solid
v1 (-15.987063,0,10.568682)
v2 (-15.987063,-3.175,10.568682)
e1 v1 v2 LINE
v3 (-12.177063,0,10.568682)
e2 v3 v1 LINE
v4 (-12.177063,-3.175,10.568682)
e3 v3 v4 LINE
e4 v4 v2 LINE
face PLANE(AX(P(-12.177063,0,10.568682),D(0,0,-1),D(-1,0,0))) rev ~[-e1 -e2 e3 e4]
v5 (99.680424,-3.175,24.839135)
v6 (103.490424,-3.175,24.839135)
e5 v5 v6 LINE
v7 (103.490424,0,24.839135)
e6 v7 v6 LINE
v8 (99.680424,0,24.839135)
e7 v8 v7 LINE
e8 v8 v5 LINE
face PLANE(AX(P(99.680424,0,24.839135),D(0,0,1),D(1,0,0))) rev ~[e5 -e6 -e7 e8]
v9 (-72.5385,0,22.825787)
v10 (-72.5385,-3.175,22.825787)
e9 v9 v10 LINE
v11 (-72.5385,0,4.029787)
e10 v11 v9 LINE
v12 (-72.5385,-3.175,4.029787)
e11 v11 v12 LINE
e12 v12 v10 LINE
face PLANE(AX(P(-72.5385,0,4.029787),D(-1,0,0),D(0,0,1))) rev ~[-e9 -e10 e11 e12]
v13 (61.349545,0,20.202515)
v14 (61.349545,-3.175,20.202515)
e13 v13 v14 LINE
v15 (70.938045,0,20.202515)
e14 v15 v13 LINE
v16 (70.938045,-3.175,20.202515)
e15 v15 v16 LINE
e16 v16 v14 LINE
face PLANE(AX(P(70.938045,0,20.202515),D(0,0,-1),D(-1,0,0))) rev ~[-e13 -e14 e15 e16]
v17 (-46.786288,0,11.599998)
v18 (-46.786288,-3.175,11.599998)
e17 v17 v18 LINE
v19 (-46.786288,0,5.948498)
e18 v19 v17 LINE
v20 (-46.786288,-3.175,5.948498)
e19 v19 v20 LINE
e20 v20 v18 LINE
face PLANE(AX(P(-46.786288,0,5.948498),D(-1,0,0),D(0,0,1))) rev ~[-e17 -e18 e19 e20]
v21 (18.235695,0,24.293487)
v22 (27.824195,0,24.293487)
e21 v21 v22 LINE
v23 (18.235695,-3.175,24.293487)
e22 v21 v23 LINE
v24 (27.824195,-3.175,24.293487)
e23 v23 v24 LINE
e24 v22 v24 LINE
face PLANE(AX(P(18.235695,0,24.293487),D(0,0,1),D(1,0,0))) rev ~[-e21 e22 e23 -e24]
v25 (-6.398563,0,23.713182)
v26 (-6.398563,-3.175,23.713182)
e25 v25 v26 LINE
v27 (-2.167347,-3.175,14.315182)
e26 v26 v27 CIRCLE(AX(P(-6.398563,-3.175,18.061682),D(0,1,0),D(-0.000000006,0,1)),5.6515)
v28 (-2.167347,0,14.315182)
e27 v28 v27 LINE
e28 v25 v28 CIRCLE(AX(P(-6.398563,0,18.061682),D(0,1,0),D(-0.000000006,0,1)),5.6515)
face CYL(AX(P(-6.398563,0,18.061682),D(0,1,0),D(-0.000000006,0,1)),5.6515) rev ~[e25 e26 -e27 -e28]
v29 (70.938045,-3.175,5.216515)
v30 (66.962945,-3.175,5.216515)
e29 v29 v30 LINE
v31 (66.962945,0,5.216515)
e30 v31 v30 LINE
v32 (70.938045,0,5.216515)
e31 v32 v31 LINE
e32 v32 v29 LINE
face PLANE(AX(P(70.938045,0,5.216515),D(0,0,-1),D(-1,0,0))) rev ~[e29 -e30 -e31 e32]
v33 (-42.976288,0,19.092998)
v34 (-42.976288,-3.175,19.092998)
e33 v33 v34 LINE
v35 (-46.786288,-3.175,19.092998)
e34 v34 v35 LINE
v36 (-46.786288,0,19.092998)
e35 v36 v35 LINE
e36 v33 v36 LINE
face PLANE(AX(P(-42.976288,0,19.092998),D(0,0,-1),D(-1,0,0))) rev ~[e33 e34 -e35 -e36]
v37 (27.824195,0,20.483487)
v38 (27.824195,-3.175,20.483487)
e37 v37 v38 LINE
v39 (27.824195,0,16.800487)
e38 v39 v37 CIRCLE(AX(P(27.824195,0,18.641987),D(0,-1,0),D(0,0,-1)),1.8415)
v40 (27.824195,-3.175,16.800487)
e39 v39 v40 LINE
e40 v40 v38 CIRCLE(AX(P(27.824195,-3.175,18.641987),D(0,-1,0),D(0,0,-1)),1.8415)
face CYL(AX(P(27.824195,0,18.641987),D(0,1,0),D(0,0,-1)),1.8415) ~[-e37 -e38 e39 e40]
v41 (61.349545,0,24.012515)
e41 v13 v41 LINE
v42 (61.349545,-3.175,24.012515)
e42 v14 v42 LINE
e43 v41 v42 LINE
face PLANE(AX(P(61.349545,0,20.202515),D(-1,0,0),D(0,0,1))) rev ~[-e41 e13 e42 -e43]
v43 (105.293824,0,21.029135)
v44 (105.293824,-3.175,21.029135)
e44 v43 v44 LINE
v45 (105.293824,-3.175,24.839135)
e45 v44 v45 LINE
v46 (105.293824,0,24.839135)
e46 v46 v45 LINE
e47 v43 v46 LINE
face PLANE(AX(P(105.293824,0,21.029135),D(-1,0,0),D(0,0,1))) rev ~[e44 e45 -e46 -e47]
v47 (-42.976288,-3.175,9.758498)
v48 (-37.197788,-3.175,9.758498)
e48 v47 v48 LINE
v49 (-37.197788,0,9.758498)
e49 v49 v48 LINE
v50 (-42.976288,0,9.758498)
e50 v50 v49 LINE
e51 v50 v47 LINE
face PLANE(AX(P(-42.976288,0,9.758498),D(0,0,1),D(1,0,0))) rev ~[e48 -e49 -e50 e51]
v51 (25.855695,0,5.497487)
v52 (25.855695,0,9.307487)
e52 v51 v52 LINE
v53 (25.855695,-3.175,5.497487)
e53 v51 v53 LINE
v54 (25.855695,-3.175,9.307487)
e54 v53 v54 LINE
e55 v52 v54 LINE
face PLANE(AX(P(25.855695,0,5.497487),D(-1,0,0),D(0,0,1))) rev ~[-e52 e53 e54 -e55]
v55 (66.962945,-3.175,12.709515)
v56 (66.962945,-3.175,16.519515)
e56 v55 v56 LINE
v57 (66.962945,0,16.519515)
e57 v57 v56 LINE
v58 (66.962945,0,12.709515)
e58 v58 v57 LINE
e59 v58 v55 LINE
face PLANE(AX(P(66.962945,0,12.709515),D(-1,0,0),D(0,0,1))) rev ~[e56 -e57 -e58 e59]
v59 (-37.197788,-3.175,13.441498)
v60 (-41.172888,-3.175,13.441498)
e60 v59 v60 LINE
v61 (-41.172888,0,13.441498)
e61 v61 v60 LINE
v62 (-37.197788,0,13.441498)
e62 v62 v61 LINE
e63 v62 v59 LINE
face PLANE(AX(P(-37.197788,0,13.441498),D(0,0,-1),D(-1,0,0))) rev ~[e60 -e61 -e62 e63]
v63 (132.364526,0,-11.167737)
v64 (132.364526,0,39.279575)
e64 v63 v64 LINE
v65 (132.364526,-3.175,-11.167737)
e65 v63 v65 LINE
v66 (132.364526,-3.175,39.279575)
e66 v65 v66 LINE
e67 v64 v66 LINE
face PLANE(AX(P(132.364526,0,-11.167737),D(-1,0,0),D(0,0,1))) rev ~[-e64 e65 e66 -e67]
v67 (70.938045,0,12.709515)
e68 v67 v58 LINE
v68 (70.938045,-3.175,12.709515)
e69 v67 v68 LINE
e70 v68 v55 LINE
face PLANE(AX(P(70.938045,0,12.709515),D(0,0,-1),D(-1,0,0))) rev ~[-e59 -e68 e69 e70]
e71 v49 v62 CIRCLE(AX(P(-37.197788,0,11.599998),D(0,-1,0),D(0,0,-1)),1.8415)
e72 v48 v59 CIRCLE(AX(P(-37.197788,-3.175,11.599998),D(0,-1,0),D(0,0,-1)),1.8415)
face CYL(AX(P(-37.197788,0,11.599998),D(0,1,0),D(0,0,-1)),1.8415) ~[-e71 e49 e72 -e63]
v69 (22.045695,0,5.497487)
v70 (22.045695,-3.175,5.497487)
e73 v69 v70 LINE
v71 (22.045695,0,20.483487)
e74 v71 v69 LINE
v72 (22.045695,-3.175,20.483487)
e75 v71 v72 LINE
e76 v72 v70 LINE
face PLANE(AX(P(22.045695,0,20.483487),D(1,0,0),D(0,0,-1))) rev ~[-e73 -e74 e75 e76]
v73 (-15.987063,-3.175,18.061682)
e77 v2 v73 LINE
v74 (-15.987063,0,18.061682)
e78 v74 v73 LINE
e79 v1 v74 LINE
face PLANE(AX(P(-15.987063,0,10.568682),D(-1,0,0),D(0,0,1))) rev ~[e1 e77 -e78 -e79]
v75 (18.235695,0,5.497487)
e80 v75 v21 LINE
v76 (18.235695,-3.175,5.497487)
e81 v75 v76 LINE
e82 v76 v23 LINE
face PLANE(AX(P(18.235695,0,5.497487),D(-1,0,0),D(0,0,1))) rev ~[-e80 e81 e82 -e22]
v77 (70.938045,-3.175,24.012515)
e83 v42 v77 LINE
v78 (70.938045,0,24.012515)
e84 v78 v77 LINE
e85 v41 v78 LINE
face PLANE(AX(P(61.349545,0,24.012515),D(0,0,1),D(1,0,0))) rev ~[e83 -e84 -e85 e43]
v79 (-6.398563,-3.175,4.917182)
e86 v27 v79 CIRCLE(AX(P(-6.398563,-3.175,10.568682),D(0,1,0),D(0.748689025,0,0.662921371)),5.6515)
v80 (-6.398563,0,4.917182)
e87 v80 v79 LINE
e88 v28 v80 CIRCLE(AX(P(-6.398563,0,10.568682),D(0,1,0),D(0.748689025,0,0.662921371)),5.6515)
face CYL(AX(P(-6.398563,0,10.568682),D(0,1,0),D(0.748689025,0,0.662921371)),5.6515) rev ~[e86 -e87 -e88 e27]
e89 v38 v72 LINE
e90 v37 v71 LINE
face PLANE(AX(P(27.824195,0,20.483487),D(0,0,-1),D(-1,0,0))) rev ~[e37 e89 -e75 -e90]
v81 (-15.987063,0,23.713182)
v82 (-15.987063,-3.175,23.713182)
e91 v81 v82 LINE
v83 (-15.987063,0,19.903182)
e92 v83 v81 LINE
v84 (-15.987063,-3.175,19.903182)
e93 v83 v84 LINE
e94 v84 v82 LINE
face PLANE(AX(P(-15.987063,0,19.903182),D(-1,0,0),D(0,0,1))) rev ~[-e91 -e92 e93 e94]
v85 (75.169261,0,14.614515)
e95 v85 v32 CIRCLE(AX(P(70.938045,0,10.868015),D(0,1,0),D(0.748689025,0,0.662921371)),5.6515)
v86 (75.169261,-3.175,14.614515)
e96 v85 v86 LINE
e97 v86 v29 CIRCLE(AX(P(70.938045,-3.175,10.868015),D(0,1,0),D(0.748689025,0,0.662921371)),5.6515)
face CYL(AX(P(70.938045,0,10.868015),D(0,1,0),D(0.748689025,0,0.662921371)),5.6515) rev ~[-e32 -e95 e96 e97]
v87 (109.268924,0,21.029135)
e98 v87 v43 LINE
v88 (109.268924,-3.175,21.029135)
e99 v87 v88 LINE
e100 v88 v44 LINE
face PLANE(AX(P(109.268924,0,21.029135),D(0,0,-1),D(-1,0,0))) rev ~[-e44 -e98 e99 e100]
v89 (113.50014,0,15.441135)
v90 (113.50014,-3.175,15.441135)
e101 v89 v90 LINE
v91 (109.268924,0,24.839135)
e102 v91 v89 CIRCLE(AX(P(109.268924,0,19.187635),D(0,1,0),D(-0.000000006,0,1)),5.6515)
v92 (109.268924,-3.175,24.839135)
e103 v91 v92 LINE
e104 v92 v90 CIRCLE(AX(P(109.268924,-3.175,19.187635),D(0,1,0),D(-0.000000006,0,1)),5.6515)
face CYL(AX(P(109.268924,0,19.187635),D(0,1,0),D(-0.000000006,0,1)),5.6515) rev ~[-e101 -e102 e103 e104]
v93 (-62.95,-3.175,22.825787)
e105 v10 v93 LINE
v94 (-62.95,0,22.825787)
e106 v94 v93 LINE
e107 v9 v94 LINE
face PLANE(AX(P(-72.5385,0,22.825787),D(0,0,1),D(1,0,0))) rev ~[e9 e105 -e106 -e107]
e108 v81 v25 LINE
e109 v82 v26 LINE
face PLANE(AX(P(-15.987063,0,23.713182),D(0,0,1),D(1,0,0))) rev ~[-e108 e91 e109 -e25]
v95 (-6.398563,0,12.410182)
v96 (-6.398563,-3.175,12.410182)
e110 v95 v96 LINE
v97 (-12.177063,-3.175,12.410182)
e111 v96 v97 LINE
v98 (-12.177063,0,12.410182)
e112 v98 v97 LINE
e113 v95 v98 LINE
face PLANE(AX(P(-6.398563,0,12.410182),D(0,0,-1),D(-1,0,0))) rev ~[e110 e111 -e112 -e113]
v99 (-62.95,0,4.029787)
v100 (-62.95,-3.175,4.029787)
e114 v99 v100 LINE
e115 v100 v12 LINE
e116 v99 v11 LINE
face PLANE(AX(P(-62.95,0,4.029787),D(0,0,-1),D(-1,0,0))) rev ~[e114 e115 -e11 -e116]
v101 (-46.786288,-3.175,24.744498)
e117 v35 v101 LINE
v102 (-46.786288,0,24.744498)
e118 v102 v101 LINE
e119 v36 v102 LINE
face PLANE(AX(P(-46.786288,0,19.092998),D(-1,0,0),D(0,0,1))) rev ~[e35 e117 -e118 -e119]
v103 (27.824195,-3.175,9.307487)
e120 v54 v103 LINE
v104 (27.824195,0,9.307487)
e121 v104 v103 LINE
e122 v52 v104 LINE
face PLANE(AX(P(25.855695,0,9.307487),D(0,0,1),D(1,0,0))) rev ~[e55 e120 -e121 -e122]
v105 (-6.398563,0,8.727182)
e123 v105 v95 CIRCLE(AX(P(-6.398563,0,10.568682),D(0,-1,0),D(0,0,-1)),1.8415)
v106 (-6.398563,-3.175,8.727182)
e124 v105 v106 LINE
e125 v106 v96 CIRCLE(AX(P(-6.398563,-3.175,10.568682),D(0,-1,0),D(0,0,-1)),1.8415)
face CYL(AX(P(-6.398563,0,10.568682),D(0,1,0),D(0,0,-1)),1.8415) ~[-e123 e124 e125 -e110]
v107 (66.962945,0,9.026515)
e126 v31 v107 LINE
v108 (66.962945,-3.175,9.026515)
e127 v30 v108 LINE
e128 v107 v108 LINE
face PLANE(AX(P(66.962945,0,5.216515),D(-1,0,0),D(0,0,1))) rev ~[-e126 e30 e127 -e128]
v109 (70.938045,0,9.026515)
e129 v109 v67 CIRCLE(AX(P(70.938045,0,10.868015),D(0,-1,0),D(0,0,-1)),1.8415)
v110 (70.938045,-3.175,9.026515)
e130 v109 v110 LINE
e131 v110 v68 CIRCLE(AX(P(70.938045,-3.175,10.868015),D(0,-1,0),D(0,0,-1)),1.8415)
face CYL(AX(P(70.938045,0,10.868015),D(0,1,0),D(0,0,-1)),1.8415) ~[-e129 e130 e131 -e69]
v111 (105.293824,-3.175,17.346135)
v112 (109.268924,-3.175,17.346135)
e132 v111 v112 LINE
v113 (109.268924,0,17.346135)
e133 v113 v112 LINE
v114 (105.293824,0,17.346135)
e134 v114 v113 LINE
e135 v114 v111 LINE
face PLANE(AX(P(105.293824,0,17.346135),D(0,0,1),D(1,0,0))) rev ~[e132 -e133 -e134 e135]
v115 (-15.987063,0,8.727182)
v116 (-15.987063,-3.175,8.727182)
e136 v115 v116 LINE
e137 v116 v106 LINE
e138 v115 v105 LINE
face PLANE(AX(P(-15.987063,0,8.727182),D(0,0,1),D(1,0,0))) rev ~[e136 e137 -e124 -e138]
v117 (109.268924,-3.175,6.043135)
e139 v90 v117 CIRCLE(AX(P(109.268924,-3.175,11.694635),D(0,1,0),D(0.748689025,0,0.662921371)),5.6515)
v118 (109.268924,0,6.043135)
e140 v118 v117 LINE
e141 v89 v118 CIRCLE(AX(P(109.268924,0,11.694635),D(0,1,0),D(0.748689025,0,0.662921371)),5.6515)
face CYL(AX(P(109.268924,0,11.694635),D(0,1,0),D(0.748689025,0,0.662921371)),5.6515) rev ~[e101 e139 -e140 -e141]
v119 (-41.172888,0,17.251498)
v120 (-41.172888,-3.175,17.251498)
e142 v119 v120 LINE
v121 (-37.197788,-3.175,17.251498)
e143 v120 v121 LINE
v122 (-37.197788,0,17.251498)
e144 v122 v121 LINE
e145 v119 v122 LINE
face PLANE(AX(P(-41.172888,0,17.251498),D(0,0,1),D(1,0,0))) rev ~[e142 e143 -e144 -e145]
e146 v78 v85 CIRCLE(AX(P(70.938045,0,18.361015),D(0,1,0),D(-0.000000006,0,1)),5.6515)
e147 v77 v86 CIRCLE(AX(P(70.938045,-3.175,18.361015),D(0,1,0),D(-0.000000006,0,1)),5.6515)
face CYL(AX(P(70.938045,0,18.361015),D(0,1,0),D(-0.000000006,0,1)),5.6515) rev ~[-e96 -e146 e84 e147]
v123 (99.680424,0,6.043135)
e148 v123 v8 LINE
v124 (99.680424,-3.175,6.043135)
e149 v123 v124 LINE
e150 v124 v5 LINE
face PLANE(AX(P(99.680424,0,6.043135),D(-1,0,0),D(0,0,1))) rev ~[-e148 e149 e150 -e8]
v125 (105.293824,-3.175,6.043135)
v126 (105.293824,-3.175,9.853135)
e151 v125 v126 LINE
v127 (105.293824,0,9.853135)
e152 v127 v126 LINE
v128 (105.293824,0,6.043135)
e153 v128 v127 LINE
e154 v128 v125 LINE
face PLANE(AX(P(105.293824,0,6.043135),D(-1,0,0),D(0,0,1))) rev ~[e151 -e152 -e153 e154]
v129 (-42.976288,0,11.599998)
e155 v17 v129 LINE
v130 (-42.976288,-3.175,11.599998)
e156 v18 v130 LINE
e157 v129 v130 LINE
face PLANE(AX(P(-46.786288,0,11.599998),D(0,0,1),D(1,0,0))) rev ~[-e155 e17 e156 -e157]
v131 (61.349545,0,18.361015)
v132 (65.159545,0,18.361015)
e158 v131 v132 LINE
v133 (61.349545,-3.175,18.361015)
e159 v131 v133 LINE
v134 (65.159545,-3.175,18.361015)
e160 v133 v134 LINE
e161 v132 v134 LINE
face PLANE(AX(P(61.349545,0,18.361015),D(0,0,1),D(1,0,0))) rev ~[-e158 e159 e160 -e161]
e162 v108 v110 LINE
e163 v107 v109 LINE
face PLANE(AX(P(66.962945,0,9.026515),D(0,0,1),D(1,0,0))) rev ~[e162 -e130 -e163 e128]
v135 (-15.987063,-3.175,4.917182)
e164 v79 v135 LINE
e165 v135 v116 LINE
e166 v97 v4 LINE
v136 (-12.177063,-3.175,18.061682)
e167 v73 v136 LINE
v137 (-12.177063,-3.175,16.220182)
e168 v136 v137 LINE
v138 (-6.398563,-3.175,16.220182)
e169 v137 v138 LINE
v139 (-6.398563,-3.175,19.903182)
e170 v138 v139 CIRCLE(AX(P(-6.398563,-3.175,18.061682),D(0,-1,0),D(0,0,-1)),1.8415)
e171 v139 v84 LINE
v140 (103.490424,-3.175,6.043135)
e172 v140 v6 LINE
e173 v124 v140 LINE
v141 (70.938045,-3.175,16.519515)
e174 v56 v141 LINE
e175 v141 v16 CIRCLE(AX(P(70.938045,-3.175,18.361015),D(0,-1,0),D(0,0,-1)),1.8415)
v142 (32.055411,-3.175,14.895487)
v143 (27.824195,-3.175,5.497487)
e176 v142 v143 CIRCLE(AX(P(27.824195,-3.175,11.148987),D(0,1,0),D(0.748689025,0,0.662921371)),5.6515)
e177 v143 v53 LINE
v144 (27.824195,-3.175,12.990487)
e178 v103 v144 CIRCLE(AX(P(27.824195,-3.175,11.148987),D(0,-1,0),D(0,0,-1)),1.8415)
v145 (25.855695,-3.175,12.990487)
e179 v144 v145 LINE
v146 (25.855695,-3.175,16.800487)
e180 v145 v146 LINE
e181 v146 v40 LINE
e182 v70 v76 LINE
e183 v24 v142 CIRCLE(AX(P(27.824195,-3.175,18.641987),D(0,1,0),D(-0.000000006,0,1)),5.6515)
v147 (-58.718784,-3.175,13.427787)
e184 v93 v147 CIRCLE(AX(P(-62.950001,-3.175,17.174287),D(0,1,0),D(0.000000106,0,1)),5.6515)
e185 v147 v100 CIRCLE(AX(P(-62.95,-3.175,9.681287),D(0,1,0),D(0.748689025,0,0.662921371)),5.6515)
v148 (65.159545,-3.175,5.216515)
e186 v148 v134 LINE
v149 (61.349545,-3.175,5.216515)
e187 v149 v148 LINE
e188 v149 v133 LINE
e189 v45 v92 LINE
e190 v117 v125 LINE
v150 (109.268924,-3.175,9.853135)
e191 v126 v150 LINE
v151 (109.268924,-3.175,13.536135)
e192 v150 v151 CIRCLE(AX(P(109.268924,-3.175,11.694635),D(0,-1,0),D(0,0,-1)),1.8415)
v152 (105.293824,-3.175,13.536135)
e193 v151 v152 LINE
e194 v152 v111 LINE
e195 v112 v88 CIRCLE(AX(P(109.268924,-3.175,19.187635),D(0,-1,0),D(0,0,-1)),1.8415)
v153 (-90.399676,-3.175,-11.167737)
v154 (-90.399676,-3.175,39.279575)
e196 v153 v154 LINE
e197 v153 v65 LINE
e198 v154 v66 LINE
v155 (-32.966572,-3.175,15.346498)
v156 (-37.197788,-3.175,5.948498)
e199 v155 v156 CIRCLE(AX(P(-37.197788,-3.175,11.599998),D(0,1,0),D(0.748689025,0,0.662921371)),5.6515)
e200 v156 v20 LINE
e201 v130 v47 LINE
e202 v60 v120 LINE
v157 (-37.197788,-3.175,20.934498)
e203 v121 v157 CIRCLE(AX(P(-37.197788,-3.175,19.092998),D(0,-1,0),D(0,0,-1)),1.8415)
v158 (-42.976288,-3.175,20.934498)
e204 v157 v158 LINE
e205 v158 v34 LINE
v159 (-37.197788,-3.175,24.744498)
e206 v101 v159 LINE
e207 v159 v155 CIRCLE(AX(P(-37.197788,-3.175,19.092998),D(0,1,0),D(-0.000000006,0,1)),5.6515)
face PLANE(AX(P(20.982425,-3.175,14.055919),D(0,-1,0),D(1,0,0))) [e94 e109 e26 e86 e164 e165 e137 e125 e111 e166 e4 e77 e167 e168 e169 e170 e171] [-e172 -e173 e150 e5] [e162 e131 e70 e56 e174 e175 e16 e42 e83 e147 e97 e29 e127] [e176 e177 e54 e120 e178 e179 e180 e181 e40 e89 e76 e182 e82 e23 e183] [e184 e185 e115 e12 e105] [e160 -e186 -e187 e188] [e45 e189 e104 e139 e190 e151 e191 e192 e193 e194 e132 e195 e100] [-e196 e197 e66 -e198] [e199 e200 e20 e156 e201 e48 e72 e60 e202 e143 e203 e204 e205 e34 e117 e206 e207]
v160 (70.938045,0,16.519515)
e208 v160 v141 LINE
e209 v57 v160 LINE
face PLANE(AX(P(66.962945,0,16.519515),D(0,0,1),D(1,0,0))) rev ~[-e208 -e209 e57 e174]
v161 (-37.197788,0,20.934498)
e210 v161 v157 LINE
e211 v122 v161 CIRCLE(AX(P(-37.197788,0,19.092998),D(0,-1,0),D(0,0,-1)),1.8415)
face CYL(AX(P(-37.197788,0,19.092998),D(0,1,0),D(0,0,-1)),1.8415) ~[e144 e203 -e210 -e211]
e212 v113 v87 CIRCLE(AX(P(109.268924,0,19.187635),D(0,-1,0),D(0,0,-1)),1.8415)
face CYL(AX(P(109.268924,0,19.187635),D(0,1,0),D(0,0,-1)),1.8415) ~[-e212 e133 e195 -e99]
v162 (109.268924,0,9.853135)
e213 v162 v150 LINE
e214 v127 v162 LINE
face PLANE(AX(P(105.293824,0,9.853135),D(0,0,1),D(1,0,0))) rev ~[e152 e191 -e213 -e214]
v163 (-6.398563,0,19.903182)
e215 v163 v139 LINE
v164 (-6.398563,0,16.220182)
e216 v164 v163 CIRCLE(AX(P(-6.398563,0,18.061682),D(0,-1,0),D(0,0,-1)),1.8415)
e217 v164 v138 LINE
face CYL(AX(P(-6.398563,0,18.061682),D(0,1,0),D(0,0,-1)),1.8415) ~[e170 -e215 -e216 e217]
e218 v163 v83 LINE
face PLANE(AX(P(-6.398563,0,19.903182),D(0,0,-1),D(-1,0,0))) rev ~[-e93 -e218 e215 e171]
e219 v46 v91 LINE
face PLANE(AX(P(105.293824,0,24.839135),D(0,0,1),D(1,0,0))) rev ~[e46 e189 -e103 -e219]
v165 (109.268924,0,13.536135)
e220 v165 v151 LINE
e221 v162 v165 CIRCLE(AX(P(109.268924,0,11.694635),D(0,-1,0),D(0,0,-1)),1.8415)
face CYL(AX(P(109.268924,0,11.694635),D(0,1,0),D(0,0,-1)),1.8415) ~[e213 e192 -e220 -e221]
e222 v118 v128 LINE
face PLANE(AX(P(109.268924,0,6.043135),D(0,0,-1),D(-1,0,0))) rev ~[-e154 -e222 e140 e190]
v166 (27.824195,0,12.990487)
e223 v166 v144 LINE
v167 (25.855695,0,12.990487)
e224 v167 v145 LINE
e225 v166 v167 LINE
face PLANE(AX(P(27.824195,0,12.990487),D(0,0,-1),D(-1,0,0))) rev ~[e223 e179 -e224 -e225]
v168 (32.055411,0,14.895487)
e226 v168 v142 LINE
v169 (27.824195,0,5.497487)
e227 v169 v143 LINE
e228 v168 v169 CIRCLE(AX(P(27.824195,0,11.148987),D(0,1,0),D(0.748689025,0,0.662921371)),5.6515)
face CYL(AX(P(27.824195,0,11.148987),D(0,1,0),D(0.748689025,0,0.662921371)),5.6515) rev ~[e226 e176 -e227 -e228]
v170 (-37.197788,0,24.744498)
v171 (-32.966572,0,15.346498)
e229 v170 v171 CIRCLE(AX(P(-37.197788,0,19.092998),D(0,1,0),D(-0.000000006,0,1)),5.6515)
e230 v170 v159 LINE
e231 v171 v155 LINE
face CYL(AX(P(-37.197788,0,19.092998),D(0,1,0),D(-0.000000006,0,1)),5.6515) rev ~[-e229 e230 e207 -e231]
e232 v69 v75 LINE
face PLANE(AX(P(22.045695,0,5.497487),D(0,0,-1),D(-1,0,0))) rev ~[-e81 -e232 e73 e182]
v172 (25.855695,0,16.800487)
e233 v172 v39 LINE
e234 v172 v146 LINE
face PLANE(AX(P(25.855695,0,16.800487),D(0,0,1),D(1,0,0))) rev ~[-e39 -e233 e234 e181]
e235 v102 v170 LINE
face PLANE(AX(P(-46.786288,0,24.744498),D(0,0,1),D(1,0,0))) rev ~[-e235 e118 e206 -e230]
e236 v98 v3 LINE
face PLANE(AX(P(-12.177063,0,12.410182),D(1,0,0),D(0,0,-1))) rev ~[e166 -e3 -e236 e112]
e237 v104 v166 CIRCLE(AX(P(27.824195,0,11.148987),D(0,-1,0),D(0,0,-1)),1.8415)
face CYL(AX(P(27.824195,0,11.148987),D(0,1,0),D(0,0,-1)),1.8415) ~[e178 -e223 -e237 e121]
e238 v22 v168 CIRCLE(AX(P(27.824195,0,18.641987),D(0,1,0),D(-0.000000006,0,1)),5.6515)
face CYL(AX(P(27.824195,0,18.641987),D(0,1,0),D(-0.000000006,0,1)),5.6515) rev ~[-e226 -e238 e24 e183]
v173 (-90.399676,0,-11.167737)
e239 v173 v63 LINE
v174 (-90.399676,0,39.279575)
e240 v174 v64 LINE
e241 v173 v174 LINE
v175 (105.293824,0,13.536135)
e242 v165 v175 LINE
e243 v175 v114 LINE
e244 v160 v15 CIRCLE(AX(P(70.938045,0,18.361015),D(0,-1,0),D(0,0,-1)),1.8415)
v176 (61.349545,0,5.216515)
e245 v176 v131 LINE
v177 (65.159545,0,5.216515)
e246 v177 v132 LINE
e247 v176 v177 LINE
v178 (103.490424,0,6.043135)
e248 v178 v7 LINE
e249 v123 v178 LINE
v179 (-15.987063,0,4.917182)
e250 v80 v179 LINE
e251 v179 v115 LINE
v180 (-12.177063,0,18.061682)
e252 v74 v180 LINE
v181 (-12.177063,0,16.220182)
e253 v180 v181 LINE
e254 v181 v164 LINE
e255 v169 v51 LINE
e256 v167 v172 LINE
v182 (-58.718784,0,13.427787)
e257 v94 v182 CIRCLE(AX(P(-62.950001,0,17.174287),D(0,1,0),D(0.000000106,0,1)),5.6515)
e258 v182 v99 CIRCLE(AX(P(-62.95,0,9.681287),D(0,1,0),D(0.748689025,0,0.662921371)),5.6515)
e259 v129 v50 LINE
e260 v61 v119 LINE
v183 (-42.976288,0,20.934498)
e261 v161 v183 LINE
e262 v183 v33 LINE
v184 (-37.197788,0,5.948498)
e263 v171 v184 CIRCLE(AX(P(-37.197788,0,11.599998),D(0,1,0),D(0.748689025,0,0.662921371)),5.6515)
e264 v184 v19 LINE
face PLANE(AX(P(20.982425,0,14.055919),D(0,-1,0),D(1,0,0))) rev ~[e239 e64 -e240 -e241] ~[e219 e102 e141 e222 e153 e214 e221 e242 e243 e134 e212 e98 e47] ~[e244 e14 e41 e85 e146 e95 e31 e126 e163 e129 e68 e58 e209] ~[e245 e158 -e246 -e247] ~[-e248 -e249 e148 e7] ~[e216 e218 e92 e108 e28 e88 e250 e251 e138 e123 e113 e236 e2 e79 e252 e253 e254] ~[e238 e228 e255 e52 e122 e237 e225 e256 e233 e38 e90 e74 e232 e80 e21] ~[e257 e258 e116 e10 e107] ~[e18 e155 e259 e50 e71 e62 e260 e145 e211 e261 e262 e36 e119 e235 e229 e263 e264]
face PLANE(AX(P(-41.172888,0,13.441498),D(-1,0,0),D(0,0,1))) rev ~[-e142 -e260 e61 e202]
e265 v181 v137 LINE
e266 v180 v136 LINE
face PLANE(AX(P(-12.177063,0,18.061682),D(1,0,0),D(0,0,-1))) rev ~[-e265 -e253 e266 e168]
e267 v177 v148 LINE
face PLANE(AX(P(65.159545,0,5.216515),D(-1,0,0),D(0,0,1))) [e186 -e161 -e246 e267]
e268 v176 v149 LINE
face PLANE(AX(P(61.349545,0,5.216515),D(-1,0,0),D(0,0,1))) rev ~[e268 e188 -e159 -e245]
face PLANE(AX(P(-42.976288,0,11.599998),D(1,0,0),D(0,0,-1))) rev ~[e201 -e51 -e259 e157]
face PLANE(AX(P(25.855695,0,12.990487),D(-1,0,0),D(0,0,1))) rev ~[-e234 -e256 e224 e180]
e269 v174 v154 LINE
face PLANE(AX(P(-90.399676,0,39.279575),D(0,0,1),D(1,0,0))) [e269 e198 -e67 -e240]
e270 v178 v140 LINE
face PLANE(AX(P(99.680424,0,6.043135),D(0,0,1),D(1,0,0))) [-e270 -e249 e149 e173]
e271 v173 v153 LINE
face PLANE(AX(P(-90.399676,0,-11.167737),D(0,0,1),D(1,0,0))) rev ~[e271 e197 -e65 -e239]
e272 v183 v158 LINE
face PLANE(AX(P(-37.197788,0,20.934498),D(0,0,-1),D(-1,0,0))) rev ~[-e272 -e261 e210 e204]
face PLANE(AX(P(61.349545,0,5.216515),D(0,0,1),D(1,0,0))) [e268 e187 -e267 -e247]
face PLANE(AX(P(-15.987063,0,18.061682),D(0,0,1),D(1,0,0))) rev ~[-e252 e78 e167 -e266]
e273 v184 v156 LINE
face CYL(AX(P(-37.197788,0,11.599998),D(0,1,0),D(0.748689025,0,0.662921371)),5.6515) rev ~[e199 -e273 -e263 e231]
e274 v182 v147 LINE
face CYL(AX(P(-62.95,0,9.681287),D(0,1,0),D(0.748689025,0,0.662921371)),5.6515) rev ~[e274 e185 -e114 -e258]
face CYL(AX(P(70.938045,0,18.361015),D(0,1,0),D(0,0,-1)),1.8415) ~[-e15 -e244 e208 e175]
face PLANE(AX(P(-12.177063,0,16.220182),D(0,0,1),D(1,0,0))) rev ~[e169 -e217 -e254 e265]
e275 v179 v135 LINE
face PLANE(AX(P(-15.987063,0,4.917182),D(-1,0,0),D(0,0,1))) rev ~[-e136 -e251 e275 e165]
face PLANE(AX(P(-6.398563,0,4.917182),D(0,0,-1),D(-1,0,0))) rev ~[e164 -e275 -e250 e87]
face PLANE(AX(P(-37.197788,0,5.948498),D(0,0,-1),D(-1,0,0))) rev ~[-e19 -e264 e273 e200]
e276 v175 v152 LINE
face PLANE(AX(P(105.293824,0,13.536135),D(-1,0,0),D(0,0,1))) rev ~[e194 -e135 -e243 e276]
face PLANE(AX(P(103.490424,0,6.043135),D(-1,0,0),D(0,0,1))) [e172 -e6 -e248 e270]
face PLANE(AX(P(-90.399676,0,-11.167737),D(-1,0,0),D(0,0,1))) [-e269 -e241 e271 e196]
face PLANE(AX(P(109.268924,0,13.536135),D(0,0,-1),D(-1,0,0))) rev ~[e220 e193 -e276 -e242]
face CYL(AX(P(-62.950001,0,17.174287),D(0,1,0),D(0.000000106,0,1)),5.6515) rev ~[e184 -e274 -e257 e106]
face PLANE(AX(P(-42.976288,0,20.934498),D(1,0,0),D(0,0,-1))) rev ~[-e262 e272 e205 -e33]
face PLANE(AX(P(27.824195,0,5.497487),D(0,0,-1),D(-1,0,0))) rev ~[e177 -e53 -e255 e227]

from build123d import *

# Parameters (mm, degrees)
F0_W     = 222.764201
F0_H     = 50.447313
F0_W_2   = 3.81
F0_H_2   = 13.1445
F0_H_3   = 18.796
F1_DEPTH = 3.175


with BuildPart() as f1:
    # F0 (on Front) → F1 (new body)
    with BuildSketch(Plane.XZ):
        with Locations((20.982425, 14.055919)):
            Rectangle(F0_W, F0_H)
        with BuildLine():
            Line((-62.95, 4.029787), (-72.5385, 4.029787))
            Line((-72.5385, 4.029787), (-72.5385, 22.825787))
            Line((-72.5385, 22.825787), (-62.95, 22.825787))
            ThreePointArc((-62.95, 22.825787), (-57.79671, 19.494427), (-58.718784, 13.427787))
            ThreePointArc((-58.718784, 13.427787), (-57.79671, 7.361146), (-62.95, 4.029787))
        make_face(mode=Mode.SUBTRACT)
        with Locations((63.254545, 11.788765)):
            Rectangle(F0_W_2, F0_H_2, mode=Mode.SUBTRACT)
        with BuildLine():
            Line((-37.197788, 5.948498), (-46.786288, 5.948498))
            Line((-46.786288, 5.948498), (-46.786288, 11.599998))
            Line((-46.786288, 11.599998), (-42.976288, 11.599998))
            Line((-42.976288, 11.599998), (-42.976288, 9.758498))
            Line((-42.976288, 9.758498), (-37.197788, 9.758498))
            ThreePointArc((-37.197788, 9.758498), (-35.356288, 11.599998), (-37.197788, 13.441498))
            Line((-37.197788, 13.441498), (-41.172888, 13.441498))
            Line((-41.172888, 13.441498), (-41.172888, 17.251498))
            Line((-41.172888, 17.251498), (-37.197788, 17.251498))
            ThreePointArc((-37.197788, 17.251498), (-35.356288, 19.092998), (-37.197788, 20.934498))
            Line((-37.197788, 20.934498), (-42.976288, 20.934498))
            Line((-42.976288, 20.934498), (-42.976288, 19.092998))
            Line((-42.976288, 19.092998), (-46.786288, 19.092998))
            Line((-46.786288, 19.092998), (-46.786288, 24.744498))
            Line((-46.786288, 24.744498), (-37.197788, 24.744498))
            ThreePointArc((-37.197788, 24.744498), (-32.044498, 21.413139), (-32.966572, 15.346498))
            ThreePointArc((-32.966572, 15.346498), (-32.044498, 9.279857), (-37.197788, 5.948498))
        make_face(mode=Mode.SUBTRACT)
        with BuildLine():
            Line((-6.398563, 4.917182), (-15.987063, 4.917182))
            Line((-15.987063, 4.917182), (-15.987063, 8.727182))
            Line((-15.987063, 8.727182), (-6.398563, 8.727182))
            ThreePointArc((-6.398563, 8.727182), (-4.557063, 10.568682), (-6.398563, 12.410182))
            Line((-6.398563, 12.410182), (-12.177063, 12.410182))
            Line((-12.177063, 12.410182), (-12.177063, 10.568682))
            Line((-12.177063, 10.568682), (-15.987063, 10.568682))
            Line((-15.987063, 10.568682), (-15.987063, 18.061682))
            Line((-15.987063, 18.061682), (-12.177063, 18.061682))
            Line((-12.177063, 18.061682), (-12.177063, 16.220182))
            Line((-12.177063, 16.220182), (-6.398563, 16.220182))
            ThreePointArc((-6.398563, 16.220182), (-4.557063, 18.061682), (-6.398563, 19.903182))
            Line((-6.398563, 19.903182), (-15.987063, 19.903182))
            Line((-15.987063, 19.903182), (-15.987063, 23.713182))
            Line((-15.987063, 23.713182), (-6.398563, 23.713182))
            ThreePointArc((-6.398563, 23.713182), (-1.245273, 20.381823), (-2.167347, 14.315182))
            ThreePointArc((-2.167347, 14.315182), (-1.245273, 8.248541), (-6.398563, 4.917182))
        make_face(mode=Mode.SUBTRACT)
        with BuildLine():
            Line((22.045695, 5.497487), (18.235695, 5.497487))
            Line((18.235695, 5.497487), (18.235695, 24.293487))
            Line((18.235695, 24.293487), (27.824195, 24.293487))
            ThreePointArc((27.824195, 24.293487), (32.977485, 20.962128), (32.055411, 14.895487))
            ThreePointArc((32.055411, 14.895487), (32.977485, 8.828846), (27.824195, 5.497487))
            Line((27.824195, 5.497487), (25.855695, 5.497487))
            Line((25.855695, 5.497487), (25.855695, 9.307487))
            Line((25.855695, 9.307487), (27.824195, 9.307487))
            ThreePointArc((27.824195, 9.307487), (29.665695, 11.148987), (27.824195, 12.990487))
            Line((27.824195, 12.990487), (25.855695, 12.990487))
            Line((25.855695, 12.990487), (25.855695, 16.800487))
            Line((25.855695, 16.800487), (27.824195, 16.800487))
            ThreePointArc((27.824195, 16.800487), (29.665695, 18.641987), (27.824195, 20.483487))
            Line((27.824195, 20.483487), (22.045695, 20.483487))
            Line((22.045695, 20.483487), (22.045695, 5.497487))
        make_face(mode=Mode.SUBTRACT)
        with BuildLine():
            Line((61.349545, 20.202515), (61.349545, 24.012515))
            Line((61.349545, 24.012515), (70.938045, 24.012515))
            ThreePointArc((70.938045, 24.012515), (76.091335, 20.681156), (75.169261, 14.614515))
            ThreePointArc((75.169261, 14.614515), (76.091335, 8.547874), (70.938045, 5.216515))
            Line((70.938045, 5.216515), (66.962945, 5.216515))
            Line((66.962945, 5.216515), (66.962945, 9.026515))
            Line((66.962945, 9.026515), (70.938045, 9.026515))
            ThreePointArc((70.938045, 9.026515), (72.779545, 10.868015), (70.938045, 12.709515))
            Line((70.938045, 12.709515), (66.962945, 12.709515))
            Line((66.962945, 12.709515), (66.962945, 16.519515))
            Line((66.962945, 16.519515), (70.938045, 16.519515))
            ThreePointArc((70.938045, 16.519515), (72.779545, 18.361015), (70.938045, 20.202515))
            Line((70.938045, 20.202515), (61.349545, 20.202515))
        make_face(mode=Mode.SUBTRACT)
        with Locations((101.585424, 15.441135)):
            Rectangle(F0_W_2, F0_H_3, mode=Mode.SUBTRACT)
        with BuildLine():
            ThreePointArc((113.50014, 15.441135), (114.422214, 9.374494), (109.268924, 6.043135))
            Line((109.268924, 6.043135), (105.293824, 6.043135))
            Line((105.293824, 6.043135), (105.293824, 9.853135))
            Line((105.293824, 9.853135), (109.268924, 9.853135))
            ThreePointArc((109.268924, 9.853135), (111.110424, 11.694635), (109.268924, 13.536135))
            Line((109.268924, 13.536135), (105.293824, 13.536135))
            Line((105.293824, 13.536135), (105.293824, 17.346135))
            Line((105.293824, 17.346135), (109.268924, 17.346135))
            ThreePointArc((109.268924, 17.346135), (111.110424, 19.187635), (109.268924, 21.029135))
            Line((109.268924, 21.029135), (105.293824, 21.029135))
            Line((105.293824, 21.029135), (105.293824, 24.839135))
            Line((105.293824, 24.839135), (109.268924, 24.839135))
            ThreePointArc((109.268924, 24.839135), (114.422214, 21.507776), (113.50014, 15.441135))
        make_face(mode=Mode.SUBTRACT)
    extrude(amount=F1_DEPTH)


solid = f1.part
